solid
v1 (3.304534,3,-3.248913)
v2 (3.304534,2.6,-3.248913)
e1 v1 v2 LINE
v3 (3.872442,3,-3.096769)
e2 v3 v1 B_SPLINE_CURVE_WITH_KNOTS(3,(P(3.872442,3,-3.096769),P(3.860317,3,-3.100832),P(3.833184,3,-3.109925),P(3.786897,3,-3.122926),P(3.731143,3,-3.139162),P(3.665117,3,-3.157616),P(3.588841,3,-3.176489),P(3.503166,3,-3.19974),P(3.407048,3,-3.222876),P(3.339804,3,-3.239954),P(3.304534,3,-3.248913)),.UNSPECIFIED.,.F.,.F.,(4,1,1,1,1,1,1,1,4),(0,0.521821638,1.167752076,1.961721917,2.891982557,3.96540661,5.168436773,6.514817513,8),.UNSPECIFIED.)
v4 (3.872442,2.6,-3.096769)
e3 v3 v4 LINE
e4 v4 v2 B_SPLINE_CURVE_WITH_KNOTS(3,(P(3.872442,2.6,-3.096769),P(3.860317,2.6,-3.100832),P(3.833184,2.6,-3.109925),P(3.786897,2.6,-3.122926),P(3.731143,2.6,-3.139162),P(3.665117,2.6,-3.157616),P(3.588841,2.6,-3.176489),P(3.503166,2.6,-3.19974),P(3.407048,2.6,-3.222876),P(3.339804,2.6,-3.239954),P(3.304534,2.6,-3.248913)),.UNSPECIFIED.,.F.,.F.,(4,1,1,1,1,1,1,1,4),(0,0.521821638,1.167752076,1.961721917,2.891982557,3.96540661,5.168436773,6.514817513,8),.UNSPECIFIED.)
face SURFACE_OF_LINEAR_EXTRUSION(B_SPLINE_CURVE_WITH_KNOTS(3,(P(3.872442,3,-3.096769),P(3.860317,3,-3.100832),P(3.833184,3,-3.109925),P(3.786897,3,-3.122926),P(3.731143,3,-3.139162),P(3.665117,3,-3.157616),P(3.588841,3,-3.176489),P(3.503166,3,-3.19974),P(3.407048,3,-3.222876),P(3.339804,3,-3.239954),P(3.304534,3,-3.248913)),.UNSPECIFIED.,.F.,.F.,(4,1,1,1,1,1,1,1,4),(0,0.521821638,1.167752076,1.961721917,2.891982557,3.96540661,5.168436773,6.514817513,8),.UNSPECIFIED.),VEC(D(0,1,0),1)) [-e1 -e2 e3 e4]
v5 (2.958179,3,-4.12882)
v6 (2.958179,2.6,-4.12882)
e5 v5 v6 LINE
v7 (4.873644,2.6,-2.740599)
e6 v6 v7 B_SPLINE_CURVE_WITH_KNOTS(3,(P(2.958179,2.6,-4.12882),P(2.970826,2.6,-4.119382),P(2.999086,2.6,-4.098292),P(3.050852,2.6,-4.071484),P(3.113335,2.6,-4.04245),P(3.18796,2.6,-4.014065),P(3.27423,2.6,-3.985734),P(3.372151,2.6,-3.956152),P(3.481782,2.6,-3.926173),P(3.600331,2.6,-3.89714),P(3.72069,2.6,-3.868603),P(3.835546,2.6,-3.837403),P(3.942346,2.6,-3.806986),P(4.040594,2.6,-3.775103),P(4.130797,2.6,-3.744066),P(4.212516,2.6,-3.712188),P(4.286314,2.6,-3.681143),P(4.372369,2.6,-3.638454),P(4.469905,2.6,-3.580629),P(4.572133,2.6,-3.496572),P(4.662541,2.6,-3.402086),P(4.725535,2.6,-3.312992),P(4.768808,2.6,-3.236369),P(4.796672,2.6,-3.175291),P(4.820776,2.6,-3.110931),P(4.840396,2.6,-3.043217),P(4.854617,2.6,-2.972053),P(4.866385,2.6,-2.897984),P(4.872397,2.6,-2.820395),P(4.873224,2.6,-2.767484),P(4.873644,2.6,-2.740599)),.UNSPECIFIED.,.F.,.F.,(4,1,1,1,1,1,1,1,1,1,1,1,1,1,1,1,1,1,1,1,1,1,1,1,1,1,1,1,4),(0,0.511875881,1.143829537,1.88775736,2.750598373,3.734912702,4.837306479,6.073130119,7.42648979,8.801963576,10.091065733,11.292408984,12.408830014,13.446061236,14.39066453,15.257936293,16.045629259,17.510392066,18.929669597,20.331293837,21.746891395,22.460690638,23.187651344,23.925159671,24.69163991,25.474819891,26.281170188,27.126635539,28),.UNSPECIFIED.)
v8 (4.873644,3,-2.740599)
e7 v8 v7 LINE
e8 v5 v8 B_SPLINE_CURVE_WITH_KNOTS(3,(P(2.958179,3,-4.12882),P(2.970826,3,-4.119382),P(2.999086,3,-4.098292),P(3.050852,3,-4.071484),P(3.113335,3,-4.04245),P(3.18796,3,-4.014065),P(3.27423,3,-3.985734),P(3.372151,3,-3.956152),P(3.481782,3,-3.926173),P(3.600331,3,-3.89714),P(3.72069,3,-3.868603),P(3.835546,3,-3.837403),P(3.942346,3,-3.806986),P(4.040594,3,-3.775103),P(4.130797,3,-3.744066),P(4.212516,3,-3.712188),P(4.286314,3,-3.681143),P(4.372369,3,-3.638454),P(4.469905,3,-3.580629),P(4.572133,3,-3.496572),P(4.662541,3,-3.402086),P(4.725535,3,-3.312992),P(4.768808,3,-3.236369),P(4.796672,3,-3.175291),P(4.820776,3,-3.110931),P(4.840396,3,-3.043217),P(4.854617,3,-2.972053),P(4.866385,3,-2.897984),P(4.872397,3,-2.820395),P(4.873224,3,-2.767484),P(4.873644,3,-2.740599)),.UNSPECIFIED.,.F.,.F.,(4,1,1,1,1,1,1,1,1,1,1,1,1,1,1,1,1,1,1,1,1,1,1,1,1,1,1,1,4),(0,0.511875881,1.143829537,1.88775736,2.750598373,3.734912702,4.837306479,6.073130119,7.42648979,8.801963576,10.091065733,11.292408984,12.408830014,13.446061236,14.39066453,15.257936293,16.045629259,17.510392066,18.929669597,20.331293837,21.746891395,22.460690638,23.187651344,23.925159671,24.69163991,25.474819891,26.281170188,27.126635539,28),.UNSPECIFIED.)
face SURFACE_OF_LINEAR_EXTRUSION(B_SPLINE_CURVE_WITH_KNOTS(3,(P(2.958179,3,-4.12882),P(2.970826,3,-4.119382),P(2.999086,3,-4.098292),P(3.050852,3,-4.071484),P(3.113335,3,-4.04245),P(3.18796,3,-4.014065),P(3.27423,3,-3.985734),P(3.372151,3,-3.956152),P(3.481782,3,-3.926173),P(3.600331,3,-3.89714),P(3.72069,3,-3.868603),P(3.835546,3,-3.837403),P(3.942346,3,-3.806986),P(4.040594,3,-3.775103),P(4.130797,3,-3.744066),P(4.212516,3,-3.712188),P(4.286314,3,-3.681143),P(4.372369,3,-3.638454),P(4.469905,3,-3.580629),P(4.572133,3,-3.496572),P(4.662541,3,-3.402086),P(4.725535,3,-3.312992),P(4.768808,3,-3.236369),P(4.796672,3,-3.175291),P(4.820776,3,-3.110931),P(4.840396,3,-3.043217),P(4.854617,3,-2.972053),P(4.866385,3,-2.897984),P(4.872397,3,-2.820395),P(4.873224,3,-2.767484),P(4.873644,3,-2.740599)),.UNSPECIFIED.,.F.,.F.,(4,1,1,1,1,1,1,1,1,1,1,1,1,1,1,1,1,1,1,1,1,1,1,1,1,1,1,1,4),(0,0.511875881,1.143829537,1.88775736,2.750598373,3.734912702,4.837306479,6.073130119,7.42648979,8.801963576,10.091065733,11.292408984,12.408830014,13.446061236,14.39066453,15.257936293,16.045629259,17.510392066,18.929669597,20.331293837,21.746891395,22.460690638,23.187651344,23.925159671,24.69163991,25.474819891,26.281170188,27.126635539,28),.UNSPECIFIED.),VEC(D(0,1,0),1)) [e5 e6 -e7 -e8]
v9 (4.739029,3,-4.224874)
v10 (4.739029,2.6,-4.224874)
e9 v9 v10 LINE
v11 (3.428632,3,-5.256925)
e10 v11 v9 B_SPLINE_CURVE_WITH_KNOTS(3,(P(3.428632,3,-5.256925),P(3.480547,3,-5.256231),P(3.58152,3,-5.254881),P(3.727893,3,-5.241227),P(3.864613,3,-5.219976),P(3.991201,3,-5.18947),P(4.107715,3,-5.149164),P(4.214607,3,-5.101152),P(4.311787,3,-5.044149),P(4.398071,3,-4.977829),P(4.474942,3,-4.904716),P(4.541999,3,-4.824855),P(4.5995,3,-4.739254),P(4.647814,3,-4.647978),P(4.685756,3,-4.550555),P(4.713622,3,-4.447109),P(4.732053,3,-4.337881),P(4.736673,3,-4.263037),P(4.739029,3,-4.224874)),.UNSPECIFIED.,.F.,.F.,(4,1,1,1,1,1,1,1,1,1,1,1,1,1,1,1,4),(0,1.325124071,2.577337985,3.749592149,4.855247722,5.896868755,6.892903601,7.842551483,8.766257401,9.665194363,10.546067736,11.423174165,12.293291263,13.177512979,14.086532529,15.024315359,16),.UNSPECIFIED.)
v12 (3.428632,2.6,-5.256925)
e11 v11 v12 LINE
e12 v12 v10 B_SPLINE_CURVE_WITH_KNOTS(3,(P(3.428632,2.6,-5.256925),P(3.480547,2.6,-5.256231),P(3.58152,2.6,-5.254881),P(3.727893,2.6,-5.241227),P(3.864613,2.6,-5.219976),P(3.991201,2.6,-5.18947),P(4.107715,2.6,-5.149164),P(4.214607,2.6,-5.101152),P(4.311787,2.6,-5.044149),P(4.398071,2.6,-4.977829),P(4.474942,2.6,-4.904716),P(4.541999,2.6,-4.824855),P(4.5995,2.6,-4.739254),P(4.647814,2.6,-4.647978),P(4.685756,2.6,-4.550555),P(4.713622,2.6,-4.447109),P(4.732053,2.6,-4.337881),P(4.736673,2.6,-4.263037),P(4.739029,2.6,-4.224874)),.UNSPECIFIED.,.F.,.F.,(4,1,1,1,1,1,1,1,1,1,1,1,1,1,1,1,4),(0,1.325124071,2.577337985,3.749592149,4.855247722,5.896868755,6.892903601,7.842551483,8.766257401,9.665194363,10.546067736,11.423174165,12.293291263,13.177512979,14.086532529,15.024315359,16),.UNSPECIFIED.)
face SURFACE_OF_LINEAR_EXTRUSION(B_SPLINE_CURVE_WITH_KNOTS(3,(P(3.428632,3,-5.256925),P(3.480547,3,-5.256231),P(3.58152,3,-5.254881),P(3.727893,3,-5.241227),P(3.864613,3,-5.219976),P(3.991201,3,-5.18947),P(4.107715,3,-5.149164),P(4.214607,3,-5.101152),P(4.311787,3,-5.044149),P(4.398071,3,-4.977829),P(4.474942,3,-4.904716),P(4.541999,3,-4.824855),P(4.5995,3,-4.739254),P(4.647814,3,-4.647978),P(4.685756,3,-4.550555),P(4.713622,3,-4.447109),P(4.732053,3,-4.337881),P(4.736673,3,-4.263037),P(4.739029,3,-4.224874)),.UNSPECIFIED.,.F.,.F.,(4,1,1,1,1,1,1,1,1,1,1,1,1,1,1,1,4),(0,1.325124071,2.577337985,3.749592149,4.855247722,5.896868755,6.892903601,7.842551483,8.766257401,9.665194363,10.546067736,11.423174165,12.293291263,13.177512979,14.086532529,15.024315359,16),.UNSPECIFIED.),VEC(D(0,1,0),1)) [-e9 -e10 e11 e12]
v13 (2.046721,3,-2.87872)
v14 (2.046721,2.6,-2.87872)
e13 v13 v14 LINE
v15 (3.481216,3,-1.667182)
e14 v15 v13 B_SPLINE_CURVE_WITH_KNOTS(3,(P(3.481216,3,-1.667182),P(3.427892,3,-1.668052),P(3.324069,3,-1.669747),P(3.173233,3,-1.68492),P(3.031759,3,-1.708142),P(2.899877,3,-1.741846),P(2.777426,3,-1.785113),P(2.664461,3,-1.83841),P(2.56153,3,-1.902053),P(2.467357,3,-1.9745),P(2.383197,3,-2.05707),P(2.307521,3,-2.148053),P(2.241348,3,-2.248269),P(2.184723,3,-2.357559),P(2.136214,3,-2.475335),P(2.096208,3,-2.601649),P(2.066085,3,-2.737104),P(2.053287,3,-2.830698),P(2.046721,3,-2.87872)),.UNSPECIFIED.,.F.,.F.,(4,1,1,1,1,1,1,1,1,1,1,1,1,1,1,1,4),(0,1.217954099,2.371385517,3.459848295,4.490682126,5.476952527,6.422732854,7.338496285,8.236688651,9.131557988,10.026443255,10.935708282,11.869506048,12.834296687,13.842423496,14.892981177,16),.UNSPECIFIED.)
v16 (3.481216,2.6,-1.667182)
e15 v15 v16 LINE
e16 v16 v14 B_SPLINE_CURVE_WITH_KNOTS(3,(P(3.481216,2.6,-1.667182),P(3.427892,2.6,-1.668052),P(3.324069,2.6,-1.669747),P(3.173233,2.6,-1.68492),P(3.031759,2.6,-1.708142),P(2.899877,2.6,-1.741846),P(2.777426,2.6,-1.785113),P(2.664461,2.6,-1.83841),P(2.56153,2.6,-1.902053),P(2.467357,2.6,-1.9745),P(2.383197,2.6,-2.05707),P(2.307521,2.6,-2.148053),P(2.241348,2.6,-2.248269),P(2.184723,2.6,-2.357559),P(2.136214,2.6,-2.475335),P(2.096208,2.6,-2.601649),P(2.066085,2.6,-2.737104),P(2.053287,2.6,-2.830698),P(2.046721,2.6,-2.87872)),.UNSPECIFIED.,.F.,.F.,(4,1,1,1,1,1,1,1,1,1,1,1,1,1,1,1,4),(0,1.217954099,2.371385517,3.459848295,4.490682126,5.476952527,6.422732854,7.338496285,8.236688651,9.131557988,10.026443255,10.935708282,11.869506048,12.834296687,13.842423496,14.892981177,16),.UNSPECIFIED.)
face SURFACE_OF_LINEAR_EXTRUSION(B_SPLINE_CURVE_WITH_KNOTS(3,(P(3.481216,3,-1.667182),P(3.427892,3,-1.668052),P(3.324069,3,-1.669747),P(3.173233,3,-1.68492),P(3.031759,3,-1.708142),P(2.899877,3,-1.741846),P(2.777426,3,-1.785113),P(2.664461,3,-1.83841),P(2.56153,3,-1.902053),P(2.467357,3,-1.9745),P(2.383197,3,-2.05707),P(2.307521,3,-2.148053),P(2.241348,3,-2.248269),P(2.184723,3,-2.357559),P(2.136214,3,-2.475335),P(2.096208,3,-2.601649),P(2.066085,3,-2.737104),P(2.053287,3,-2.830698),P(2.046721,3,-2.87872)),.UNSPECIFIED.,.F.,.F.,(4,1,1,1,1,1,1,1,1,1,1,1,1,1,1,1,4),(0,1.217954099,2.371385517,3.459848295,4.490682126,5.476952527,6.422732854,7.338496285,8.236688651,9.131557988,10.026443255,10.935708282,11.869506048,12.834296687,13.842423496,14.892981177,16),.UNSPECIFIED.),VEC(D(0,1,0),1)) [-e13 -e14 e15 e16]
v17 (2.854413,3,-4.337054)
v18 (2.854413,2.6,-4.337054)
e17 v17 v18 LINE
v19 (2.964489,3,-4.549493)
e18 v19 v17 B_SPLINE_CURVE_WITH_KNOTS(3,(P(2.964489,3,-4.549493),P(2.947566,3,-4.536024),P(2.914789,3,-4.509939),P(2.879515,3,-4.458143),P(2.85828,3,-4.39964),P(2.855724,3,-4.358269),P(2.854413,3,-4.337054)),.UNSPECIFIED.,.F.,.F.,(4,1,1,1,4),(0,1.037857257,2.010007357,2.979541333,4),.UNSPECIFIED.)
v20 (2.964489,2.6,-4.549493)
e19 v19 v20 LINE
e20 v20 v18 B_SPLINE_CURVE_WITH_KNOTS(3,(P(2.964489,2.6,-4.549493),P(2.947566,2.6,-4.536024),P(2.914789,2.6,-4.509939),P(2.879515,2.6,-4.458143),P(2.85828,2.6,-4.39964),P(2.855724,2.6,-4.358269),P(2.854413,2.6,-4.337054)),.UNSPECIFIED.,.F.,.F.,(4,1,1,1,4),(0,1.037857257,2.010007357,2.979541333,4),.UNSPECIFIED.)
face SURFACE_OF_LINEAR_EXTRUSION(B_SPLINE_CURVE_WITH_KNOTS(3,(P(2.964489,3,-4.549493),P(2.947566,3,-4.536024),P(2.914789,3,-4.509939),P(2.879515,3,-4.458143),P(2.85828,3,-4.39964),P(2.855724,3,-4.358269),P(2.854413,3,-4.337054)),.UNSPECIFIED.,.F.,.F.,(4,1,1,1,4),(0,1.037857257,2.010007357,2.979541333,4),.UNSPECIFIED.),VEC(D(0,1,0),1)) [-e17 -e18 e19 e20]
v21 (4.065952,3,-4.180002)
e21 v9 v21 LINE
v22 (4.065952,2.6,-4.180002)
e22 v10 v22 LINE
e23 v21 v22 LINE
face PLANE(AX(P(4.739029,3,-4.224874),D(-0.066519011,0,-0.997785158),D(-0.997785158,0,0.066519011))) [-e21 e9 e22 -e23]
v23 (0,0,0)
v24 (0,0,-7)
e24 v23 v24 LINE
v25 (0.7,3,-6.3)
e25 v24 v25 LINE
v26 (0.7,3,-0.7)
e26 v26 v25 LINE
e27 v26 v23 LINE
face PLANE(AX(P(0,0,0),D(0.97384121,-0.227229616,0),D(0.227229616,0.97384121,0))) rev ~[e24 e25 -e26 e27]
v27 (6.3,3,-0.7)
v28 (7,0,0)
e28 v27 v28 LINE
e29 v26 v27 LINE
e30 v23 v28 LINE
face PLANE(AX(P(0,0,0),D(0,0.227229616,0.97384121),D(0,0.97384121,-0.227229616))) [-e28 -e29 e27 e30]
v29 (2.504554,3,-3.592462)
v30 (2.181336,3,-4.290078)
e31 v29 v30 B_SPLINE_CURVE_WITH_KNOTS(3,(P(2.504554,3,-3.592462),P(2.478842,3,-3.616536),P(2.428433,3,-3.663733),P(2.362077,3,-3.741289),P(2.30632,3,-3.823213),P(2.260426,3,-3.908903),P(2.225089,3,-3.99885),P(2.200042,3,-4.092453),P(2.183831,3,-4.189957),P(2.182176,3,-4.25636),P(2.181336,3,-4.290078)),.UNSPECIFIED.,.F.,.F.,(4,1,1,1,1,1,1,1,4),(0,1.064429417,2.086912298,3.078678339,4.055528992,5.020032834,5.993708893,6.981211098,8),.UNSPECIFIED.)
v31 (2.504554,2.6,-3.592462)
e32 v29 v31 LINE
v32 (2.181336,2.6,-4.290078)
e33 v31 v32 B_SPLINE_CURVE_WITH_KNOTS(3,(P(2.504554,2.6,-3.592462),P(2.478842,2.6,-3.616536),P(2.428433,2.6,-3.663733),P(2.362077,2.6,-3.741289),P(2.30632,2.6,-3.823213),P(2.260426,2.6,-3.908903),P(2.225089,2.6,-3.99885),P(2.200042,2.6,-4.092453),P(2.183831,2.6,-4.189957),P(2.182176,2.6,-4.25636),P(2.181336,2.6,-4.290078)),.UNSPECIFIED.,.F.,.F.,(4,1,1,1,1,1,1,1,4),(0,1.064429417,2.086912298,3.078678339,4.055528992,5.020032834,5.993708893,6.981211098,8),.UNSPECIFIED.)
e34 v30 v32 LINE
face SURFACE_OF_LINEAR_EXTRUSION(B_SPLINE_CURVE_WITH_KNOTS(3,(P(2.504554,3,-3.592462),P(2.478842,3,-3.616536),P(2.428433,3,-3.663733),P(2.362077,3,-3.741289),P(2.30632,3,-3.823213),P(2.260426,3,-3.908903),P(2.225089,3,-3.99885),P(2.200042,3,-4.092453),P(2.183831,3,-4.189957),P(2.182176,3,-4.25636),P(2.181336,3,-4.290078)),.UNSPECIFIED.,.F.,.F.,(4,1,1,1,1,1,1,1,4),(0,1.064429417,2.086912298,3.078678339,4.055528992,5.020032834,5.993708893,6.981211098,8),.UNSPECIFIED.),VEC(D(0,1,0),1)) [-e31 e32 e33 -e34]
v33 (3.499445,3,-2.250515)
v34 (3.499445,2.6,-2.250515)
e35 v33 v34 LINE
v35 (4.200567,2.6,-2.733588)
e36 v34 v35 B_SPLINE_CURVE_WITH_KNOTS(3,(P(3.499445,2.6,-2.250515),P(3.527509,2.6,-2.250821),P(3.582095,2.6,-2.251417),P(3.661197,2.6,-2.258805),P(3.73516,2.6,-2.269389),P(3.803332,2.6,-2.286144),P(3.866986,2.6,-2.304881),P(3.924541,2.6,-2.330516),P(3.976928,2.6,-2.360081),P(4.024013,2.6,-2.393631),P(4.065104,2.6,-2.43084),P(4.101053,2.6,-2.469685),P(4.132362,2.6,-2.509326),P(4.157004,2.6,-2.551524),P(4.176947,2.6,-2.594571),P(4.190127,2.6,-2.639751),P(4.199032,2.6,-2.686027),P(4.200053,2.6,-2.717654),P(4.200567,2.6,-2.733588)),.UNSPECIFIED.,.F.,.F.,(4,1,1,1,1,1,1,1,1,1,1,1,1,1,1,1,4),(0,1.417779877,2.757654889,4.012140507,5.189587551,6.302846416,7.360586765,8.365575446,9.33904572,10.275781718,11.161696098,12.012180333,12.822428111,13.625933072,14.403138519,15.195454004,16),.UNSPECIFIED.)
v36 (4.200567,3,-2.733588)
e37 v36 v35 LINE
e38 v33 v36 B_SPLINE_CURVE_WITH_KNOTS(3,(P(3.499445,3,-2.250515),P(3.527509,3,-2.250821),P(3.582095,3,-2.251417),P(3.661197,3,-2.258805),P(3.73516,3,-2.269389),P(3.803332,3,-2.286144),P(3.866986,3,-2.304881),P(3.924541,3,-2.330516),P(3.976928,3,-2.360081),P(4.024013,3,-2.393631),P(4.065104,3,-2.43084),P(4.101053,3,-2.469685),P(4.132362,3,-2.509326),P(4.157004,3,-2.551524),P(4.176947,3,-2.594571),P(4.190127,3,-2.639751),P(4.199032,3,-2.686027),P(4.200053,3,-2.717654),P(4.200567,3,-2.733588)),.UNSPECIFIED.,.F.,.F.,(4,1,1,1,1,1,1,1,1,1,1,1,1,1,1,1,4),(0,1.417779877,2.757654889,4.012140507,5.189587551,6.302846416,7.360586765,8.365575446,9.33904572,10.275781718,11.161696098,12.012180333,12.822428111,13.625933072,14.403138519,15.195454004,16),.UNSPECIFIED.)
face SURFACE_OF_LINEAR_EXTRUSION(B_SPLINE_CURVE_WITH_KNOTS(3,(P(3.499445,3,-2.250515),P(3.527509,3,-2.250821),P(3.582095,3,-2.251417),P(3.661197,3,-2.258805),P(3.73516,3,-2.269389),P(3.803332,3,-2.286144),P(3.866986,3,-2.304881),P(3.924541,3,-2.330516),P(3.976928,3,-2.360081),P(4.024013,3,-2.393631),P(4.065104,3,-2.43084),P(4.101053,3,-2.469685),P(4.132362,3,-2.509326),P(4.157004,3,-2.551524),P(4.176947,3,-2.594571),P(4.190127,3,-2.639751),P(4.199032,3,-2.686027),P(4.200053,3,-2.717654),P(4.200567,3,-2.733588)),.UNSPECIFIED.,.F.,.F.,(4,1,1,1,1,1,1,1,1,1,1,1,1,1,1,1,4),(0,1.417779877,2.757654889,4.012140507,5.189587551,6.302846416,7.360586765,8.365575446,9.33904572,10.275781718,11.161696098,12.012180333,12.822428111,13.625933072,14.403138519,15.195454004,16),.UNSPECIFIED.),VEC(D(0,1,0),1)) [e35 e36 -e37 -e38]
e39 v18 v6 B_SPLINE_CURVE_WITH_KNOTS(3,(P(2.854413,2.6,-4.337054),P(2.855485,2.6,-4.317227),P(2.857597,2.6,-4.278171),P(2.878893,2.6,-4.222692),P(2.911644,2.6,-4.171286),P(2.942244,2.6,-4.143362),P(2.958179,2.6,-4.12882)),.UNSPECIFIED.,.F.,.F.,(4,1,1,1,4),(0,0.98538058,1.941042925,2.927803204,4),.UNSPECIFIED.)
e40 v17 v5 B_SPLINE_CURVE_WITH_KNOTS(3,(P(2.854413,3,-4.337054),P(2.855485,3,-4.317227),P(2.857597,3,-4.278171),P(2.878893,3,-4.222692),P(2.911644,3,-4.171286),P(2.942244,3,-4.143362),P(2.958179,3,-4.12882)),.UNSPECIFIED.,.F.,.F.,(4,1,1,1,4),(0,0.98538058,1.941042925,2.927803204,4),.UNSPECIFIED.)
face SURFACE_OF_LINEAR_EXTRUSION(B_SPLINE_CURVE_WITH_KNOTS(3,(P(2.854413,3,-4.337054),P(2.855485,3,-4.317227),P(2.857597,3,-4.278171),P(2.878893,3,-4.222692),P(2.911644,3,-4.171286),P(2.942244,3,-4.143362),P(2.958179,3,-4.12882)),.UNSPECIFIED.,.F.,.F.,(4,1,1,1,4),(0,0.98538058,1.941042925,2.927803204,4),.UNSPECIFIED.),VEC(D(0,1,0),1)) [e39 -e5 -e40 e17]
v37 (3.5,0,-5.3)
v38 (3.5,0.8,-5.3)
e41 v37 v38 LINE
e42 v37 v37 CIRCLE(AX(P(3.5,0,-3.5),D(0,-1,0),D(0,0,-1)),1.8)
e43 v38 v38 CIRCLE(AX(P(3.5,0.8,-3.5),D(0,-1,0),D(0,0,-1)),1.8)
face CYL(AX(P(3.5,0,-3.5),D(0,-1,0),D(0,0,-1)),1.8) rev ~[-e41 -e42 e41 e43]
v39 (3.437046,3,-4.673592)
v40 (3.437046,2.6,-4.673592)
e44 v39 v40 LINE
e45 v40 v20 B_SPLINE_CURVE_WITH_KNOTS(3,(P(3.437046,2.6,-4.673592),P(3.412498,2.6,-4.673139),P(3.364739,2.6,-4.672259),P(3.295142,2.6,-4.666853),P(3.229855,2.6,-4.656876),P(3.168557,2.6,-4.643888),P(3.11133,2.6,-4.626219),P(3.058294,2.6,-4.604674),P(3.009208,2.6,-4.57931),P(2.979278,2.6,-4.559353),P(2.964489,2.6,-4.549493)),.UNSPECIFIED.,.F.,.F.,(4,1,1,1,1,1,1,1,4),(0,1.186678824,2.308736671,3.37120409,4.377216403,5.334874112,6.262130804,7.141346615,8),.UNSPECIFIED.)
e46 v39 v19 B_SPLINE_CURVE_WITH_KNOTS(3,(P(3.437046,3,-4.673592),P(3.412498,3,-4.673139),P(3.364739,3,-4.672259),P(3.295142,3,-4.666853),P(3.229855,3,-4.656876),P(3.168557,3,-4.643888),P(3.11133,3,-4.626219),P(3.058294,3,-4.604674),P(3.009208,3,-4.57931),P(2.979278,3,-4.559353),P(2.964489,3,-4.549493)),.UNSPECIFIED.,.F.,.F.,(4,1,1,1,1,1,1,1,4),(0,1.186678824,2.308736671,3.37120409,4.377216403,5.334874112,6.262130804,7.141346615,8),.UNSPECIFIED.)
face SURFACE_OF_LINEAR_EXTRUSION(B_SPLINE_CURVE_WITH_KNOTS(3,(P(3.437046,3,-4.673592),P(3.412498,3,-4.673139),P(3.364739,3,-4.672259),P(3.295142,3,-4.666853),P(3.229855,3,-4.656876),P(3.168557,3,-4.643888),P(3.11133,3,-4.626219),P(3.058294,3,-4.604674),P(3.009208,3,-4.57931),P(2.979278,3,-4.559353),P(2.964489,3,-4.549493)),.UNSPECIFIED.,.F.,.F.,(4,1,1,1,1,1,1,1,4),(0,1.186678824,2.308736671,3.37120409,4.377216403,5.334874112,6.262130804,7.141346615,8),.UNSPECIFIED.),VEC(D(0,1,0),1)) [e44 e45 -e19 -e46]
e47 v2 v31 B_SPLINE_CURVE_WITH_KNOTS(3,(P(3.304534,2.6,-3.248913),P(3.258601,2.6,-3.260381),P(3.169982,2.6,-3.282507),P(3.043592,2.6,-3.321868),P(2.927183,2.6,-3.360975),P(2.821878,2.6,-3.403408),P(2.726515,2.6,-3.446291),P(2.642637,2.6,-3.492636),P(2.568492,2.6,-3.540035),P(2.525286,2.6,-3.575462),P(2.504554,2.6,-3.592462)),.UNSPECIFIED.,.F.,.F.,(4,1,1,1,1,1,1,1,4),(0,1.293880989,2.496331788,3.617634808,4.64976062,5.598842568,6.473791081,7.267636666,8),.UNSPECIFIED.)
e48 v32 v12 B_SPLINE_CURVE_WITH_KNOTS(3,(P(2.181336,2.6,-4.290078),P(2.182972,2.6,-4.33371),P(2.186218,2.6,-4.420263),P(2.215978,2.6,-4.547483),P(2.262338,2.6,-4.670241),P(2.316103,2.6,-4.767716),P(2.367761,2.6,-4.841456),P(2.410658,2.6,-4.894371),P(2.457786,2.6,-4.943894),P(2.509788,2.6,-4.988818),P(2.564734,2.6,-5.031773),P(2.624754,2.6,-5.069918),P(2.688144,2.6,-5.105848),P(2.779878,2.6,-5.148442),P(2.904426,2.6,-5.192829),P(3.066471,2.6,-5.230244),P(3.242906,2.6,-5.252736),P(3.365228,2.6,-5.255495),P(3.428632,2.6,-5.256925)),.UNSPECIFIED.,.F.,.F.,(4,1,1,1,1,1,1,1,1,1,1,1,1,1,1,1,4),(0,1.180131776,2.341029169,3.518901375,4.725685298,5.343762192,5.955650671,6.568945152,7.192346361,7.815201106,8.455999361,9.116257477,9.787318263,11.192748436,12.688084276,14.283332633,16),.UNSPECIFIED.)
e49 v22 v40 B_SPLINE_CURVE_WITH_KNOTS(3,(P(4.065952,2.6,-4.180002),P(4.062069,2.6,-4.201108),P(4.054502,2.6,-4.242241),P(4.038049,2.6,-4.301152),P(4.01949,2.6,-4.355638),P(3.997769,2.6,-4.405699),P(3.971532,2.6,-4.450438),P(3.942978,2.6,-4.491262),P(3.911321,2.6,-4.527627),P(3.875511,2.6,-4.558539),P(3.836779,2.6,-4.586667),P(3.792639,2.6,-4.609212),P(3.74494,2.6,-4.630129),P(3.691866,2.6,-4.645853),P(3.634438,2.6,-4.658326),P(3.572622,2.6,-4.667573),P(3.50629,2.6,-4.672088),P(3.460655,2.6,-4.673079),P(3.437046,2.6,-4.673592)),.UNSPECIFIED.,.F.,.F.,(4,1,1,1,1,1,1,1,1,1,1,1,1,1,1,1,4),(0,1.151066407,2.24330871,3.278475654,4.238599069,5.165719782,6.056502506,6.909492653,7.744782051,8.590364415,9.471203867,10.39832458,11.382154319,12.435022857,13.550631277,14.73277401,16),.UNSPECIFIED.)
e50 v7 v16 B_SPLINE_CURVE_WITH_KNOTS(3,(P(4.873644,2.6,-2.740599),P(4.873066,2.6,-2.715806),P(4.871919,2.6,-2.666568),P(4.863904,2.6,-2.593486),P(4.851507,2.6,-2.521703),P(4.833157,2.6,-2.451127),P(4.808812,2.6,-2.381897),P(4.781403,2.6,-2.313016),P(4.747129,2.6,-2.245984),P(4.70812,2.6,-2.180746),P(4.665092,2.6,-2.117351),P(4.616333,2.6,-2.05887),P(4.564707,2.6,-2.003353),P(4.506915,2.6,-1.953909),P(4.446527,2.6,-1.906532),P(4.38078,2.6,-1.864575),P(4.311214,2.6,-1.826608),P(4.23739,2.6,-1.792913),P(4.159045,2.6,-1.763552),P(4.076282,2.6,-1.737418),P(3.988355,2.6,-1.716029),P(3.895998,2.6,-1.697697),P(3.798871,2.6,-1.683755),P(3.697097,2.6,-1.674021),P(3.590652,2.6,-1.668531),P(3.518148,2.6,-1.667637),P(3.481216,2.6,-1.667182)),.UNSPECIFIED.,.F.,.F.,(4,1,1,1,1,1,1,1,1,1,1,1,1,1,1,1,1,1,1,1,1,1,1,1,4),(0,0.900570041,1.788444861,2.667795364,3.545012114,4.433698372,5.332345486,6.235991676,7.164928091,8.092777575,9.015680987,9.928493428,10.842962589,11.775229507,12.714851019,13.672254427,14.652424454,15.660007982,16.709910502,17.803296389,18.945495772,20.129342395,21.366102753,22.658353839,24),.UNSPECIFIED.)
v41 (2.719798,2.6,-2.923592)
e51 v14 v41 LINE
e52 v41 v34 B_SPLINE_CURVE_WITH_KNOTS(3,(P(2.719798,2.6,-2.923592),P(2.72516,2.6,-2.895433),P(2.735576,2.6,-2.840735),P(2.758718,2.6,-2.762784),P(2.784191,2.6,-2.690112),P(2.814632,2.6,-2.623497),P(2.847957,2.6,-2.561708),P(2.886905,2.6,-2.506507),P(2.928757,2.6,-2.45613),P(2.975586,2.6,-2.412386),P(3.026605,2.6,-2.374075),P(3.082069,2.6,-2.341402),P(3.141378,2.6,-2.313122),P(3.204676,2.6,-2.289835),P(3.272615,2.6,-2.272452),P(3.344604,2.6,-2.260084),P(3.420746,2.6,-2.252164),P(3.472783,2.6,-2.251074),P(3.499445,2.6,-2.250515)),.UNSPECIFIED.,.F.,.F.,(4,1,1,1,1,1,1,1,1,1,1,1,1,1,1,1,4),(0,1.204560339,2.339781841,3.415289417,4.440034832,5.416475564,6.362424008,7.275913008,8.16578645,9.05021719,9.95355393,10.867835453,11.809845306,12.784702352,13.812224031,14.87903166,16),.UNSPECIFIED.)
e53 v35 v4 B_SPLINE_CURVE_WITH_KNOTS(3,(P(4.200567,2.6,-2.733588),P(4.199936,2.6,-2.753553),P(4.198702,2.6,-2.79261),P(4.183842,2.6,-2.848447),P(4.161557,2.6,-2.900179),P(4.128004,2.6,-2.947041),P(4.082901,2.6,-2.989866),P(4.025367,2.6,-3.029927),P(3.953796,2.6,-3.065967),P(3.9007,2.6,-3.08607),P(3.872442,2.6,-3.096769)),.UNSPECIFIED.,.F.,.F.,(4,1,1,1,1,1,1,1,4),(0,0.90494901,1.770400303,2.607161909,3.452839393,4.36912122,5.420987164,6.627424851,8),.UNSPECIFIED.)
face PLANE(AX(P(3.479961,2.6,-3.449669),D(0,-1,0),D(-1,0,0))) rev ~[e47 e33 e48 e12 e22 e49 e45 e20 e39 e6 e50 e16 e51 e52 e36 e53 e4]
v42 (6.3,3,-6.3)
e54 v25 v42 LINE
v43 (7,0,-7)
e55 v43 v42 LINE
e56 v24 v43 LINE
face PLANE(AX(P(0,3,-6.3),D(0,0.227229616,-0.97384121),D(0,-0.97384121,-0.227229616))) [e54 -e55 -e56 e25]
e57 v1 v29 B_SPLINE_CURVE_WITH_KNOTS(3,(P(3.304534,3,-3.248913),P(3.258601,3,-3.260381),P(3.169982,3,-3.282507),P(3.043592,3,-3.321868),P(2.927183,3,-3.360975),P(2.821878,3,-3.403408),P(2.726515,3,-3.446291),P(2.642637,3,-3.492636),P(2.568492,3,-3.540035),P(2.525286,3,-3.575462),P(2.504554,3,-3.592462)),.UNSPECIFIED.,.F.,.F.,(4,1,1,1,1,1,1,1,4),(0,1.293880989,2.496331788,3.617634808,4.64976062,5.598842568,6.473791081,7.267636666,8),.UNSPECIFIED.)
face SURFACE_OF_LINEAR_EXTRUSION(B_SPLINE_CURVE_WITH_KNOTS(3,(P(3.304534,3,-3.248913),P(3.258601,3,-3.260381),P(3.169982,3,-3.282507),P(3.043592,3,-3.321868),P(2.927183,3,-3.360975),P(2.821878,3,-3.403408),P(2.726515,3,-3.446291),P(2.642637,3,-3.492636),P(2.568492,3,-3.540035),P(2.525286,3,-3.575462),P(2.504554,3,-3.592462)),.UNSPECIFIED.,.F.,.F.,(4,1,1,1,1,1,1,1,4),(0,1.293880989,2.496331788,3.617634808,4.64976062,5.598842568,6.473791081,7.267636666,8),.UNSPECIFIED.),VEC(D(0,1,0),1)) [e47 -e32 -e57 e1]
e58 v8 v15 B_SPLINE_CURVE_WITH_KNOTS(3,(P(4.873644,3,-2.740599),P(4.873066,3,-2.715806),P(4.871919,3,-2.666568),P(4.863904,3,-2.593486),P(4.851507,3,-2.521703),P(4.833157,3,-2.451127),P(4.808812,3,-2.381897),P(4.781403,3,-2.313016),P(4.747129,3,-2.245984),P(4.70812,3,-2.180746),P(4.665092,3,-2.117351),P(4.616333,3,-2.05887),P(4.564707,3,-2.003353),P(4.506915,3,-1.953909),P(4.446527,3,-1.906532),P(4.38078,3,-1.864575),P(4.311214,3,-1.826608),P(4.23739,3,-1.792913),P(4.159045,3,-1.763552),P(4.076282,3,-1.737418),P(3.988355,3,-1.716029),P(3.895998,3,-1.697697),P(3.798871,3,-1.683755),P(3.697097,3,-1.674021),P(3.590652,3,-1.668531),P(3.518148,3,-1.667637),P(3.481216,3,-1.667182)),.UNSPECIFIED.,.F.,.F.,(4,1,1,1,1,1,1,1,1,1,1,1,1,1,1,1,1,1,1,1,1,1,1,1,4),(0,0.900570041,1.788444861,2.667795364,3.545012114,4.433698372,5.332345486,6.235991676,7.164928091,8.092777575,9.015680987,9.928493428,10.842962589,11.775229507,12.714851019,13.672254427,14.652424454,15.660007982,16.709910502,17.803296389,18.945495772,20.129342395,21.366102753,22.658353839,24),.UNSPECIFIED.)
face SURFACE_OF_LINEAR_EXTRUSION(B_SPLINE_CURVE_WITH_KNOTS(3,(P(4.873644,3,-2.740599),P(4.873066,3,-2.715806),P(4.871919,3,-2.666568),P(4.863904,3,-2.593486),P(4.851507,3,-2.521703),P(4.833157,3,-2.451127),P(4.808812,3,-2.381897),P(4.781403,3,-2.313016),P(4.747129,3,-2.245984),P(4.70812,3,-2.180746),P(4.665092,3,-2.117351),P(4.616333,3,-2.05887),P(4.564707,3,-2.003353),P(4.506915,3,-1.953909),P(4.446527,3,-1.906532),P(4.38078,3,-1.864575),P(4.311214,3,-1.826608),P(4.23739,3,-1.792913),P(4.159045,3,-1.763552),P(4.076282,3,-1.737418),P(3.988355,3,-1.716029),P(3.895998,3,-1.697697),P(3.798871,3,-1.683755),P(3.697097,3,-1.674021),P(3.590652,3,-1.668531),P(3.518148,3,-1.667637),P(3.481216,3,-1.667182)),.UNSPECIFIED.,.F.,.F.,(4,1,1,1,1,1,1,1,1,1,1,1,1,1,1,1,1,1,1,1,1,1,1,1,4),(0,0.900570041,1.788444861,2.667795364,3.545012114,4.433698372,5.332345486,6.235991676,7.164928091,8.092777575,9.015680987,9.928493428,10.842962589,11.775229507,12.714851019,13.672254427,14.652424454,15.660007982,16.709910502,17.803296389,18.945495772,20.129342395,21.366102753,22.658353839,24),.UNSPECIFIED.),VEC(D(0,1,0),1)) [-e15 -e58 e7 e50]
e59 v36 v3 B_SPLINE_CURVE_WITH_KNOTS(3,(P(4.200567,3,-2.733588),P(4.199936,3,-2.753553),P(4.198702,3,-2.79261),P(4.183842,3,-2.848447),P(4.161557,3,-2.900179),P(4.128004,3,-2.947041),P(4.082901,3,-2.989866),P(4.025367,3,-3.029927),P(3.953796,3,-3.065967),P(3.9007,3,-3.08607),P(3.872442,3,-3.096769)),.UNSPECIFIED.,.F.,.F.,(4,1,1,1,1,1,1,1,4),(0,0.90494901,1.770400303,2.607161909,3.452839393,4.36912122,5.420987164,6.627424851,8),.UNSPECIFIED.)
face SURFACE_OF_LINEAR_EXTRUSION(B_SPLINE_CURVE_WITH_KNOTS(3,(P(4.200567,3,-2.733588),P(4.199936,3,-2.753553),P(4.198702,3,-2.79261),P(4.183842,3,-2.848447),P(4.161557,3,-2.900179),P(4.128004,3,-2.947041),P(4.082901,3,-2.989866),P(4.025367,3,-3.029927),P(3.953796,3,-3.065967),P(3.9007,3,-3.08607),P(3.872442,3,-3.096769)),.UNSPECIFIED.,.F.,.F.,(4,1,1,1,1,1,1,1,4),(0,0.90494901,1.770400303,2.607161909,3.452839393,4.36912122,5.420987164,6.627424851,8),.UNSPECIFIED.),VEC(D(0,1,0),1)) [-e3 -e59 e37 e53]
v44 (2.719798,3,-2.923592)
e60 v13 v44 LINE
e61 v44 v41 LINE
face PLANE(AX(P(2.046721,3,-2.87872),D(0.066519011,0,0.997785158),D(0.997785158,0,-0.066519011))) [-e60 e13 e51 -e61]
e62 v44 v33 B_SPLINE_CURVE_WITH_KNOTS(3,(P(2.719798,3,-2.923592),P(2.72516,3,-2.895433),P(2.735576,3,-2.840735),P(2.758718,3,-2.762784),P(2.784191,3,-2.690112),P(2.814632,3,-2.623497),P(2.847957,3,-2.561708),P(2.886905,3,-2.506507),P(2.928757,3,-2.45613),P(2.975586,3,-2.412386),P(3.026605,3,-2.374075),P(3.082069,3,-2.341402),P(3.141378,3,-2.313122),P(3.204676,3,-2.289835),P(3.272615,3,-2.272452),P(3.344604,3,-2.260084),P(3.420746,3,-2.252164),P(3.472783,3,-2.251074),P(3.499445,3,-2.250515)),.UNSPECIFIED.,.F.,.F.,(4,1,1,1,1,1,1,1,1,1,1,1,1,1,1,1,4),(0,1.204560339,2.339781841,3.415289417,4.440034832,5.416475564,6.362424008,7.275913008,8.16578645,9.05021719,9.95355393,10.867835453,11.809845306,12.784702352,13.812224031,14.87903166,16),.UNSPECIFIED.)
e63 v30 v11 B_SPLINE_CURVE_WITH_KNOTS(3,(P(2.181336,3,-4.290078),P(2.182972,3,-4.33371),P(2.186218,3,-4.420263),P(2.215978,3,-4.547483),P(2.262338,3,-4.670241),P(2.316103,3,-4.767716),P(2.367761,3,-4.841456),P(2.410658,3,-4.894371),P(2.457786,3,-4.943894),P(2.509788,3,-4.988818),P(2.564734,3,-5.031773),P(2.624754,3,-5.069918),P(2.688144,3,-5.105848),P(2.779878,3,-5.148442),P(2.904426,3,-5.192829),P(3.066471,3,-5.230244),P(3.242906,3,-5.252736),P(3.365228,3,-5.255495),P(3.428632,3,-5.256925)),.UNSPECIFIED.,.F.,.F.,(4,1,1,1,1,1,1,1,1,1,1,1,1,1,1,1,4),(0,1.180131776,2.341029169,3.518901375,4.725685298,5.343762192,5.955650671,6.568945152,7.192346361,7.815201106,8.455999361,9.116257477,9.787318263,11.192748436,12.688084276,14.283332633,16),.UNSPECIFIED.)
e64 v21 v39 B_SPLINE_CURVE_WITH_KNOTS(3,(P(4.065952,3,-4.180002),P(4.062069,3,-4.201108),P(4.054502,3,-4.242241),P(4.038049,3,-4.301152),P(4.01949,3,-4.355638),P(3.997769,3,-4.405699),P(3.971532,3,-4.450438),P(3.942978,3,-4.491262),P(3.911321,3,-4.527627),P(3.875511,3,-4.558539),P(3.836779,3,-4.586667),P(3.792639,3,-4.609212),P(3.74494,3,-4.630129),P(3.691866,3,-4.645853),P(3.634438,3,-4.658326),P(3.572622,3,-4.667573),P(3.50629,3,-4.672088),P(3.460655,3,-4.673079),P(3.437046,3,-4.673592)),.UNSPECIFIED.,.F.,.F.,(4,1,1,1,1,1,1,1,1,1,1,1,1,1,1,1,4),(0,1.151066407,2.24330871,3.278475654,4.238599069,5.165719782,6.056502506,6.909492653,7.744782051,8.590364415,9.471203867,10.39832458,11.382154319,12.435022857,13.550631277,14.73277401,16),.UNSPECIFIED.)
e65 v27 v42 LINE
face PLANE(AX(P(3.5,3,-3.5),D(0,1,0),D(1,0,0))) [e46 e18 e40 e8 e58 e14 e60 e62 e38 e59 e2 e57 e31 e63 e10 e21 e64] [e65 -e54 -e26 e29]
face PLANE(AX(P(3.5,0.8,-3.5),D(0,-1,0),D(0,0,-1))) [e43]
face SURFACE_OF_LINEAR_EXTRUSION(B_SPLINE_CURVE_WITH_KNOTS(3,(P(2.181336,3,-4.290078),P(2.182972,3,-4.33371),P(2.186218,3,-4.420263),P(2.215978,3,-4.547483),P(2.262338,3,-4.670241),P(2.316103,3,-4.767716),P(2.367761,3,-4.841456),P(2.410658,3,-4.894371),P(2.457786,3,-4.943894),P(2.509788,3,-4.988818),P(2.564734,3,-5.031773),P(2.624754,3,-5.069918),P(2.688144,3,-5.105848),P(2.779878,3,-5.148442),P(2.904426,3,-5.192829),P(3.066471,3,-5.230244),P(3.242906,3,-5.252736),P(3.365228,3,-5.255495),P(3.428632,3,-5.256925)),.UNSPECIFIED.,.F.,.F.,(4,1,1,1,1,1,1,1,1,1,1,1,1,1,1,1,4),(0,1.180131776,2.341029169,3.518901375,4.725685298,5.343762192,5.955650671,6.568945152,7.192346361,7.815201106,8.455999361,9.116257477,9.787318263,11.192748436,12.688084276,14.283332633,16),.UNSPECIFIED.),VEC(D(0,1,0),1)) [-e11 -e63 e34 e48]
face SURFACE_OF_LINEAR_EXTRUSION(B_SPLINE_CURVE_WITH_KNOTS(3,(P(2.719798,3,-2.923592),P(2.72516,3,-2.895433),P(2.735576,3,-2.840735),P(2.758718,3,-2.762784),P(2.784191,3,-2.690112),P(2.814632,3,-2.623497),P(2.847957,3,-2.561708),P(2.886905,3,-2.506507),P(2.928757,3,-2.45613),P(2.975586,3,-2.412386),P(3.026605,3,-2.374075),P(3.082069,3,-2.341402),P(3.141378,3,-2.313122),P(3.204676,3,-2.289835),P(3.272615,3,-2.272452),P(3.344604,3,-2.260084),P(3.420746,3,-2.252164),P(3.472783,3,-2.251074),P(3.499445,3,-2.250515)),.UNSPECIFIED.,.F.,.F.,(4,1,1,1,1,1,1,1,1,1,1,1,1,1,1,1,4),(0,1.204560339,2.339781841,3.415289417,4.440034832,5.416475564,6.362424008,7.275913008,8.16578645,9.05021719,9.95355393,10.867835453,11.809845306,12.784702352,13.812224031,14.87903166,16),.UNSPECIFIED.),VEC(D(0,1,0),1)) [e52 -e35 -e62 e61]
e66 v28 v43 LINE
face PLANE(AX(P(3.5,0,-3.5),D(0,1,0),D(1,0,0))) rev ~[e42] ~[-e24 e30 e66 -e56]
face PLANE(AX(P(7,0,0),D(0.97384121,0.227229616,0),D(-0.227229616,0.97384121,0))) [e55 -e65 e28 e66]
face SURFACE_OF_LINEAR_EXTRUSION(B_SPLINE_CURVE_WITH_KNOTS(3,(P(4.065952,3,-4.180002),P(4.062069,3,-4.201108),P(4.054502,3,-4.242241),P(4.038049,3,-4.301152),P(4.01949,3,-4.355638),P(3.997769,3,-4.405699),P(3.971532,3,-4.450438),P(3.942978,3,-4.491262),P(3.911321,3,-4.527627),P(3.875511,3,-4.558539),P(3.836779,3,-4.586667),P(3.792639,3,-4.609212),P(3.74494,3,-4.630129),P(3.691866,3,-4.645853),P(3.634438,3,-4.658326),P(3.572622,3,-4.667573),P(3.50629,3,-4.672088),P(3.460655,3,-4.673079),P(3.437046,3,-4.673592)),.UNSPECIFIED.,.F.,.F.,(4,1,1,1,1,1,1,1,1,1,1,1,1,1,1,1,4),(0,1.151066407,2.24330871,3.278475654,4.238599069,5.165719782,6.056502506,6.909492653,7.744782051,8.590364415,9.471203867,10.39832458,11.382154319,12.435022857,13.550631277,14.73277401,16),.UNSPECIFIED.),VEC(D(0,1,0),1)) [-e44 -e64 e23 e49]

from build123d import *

# Parameters (mm, degrees)
SKETCH1_W           = 7
SKETCH1_H           = 7
BOSS_EXTRUDE1_DEPTH = 3
CUT_EXTRUDE1_DEPTH  = 7
CUT_EXTRUDE2_DEPTH  = 11
SKETCH4_R           = 1.8
CUT_EXTRUDE3_DEPTH  = 0.8
CUT_EXTRUDE4_DEPTH  = 0.4


with BuildPart() as part:
    # Sketch1 → Boss-Extrude1 (new body)
    with BuildSketch(Plane(origin=(0, 0, 0), x_dir=(1, 0, 0), z_dir=(0, 1, 0))):
        with Locations((3.5, 3.5)):
            Rectangle(SKETCH1_W, SKETCH1_H)
    extrude(amount=BOSS_EXTRUDE1_DEPTH)

    # Sketch2 → Cut-Extrude1 (cut)
    with BuildSketch(Plane.XY):
        Polygon((0, 0), (0.7, 3), (0, 3), align=None)
        Polygon((7, 0), (6.3, 3), (7, 3), align=None)
    extrude(amount=-CUT_EXTRUDE1_DEPTH, mode=Mode.SUBTRACT)

    # Sketch3 → Cut-Extrude2 (cut)
    with BuildSketch(Plane(origin=(0, 0, 0), x_dir=(0, 0, -1), z_dir=(1, 0, 0))):
        Polygon((0, 0), (0.7, 3), (0, 3), align=None)
        Polygon((7, 3), (6.3, 3), (7, 0), align=None)
    extrude(amount=CUT_EXTRUDE2_DEPTH, mode=Mode.SUBTRACT)

    # Sketch4 → Cut-Extrude3 (cut)
    with BuildSketch(Plane.XZ):
        with Locations(Location((3.5, -3.5, 0), (0, 0, 270))):
            Circle(SKETCH4_R)
    extrude(amount=-CUT_EXTRUDE3_DEPTH, mode=Mode.SUBTRACT)

    # Sketch5 → Cut-Extrude4 (cut)
    with BuildSketch(Plane(origin=(0, 3, 0), x_dir=(1, 0, 0), z_dir=(0, 1, 0))):
        with BuildLine():
            Line((2.046721013, 2.878720245), (2.719797936, 2.92359204))
            add(Edge.make_bspline(
                [(2.719797936, 2.92359204), (2.725160149, 2.895432871), (2.735575908, 2.840735478), (2.758717767, 2.762784225), (2.784190549, 2.69011155), (2.81463192, 2.623496744), (2.847957445, 2.561708471), (2.886904829, 2.506506929), (2.928757004, 2.456129675), (2.975585733, 2.412386043), (3.026605026, 2.374074766), (3.082069463, 2.341401632), (3.14137804, 2.313122445), (3.204675773, 2.289835431), (3.272615043, 2.272451562), (3.344603998, 2.260083969), (3.420745884, 2.252164104), (3.4727828, 2.251073777), (3.499445372, 2.250515117)],
                knots=[0, 0, 0, 0, 1.204560339, 2.339781841, 3.415289417, 4.440034832, 5.416475564, 6.362424008, 7.275913008, 8.16578645, 9.05021719, 9.95355393, 10.867835453, 11.809845306, 12.784702352, 13.812224031, 14.87903166, 16, 16, 16, 16], degree=3))
            add(Edge.make_bspline(
                [(3.499445372, 2.250515117), (3.527509416, 2.250821294), (3.582095427, 2.251416824), (3.661196592, 2.258804896), (3.735159775, 2.269389104), (3.803331854, 2.286143658), (3.866985877, 2.304880975), (3.924540945, 2.330515622), (3.976928433, 2.36008148), (4.024013382, 2.393631069), (4.06510446, 2.430839971), (4.101052986, 2.469684857), (4.132361778, 2.5093265), (4.157004013, 2.551524023), (4.176946643, 2.594570783), (4.190127325, 2.639750939), (4.199031656, 2.686027058), (4.200052723, 2.717653631), (4.200567167, 2.733588033)],
                knots=[0, 0, 0, 0, 1.417779877, 2.757654889, 4.012140507, 5.189587551, 6.302846416, 7.360586765, 8.365575446, 9.33904572, 10.275781718, 11.161696098, 12.012180333, 12.822428111, 13.625933072, 14.403138519, 15.195454004, 16, 16, 16, 16], degree=3))
            add(Edge.make_bspline(
                [(4.200567167, 2.733588033), (4.199936245, 2.753552546), (4.198701939, 2.792610195), (4.183842132, 2.848447381), (4.161557458, 2.900178921), (4.12800444, 2.94704074), (4.082900924, 2.989865612), (4.025366896, 3.029927231), (3.953796381, 3.065967021), (3.900700369, 3.086070082), (3.872442167, 3.096769123)],
                knots=[0, 0, 0, 0, 0.90494901, 1.770400303, 2.607161909, 3.452839393, 4.36912122, 5.420987164, 6.627424851, 8, 8, 8, 8], degree=3))
            add(Edge.make_bspline(
                [(3.872442167, 3.096769123), (3.860317321, 3.100832215), (3.833183883, 3.109924755), (3.786897121, 3.12292623), (3.731143485, 3.139161617), (3.665117302, 3.157615727), (3.588840772, 3.176489423), (3.503165804, 3.199739676), (3.407047926, 3.222875577), (3.339803742, 3.239954494), (3.304533513, 3.248912553)],
                knots=[0, 0, 0, 0, 0.521821638, 1.167752076, 1.961721917, 2.891982557, 3.96540661, 5.168436773, 6.514817513, 8, 8, 8, 8], degree=3))
            add(Edge.make_bspline(
                [(3.304533513, 3.248912553), (3.258601207, 3.260380777), (3.169982333, 3.282506842), (3.043591527, 3.321867543), (2.927183282, 3.360974579), (2.821878423, 3.403407811), (2.726515392, 3.446291426), (2.642636716, 3.492636137), (2.568492031, 3.540035098), (2.525286202, 3.57546224), (2.504553545, 3.592462232)],
                knots=[0, 0, 0, 0, 1.293880989, 2.496331788, 3.617634808, 4.64976062, 5.598842568, 6.473791081, 7.267636666, 8, 8, 8, 8], degree=3))
            add(Edge.make_bspline(
                [(2.504553545, 3.592462232), (2.478842356, 3.616535508), (2.428433193, 3.663733391), (2.362077353, 3.741288571), (2.306320379, 3.82321321), (2.260426285, 3.908902595), (2.225088701, 3.998850035), (2.200041876, 4.092453462), (2.18383066, 4.189957168), (2.182176417, 4.256359502), (2.181336398, 4.290078418)],
                knots=[0, 0, 0, 0, 1.064429417, 2.086912298, 3.078678339, 4.055528992, 5.020032834, 5.993708893, 6.981211098, 8, 8, 8, 8], degree=3))
            add(Edge.make_bspline(
                [(2.181336398, 4.290078418), (2.182972343, 4.333710293), (2.18621757, 4.420262908), (2.215978417, 4.547483438), (2.262337684, 4.670241451), (2.316103441, 4.767715859), (2.367760734, 4.841455617), (2.410658355, 4.894370593), (2.457785536, 4.943893923), (2.509787819, 4.988817578), (2.564734232, 5.031772991), (2.624753609, 5.069917913), (2.688144219, 5.105848319), (2.779877653, 5.148442144), (2.904426487, 5.192829094), (3.06647121, 5.230244475), (3.242905826, 5.252735952), (3.365228488, 5.25549518), (3.428632071, 5.256925373)],
                knots=[0, 0, 0, 0, 1.180131776, 2.341029169, 3.518901375, 4.725685298, 5.343762192, 5.955650671, 6.568945152, 7.192346361, 7.815201106, 8.455999361, 9.116257477, 9.787318263, 11.192748436, 12.688084276, 14.283332633, 16, 16, 16, 16], degree=3))
            add(Edge.make_bspline(
                [(3.428632071, 5.256925373), (3.480546978, 5.25623114), (3.581520363, 5.254880873), (3.727893013, 5.241226755), (3.86461301, 5.219975735), (3.991200587, 5.189469994), (4.107714725, 5.149163904), (4.214607068, 5.10115173), (4.311786782, 5.044149232), (4.3980708, 4.977829293), (4.474941591, 4.904715813), (4.541999061, 4.824854673), (4.599499587, 4.739254471), (4.647814268, 4.647977762), (4.68575566, 4.550555251), (4.713622114, 4.447108501), (4.732053229, 4.337881002), (4.736673044, 4.263037228), (4.739028705, 4.224874091)],
                knots=[0, 0, 0, 0, 1.325124071, 2.577337985, 3.749592149, 4.855247722, 5.896868755, 6.892903601, 7.842551483, 8.766257401, 9.665194363, 10.546067736, 11.423174165, 12.293291263, 13.177512979, 14.086532529, 15.024315359, 16, 16, 16, 16], degree=3))
            Line((4.739028705, 4.224874091), (4.065951782, 4.180002296))
            add(Edge.make_bspline(
                [(4.065951782, 4.180002296), (4.062068972, 4.201108183), (4.054501777, 4.242241362), (4.038048624, 4.301152432), (4.019490266, 4.355638451), (3.997768669, 4.405699072), (3.971531605, 4.45043766), (3.942978139, 4.491261716), (3.911320612, 4.527627281), (3.875510829, 4.55853855), (3.83677937, 4.586666537), (3.792639157, 4.60921177), (3.744939713, 4.630128784), (3.691866364, 4.645853249), (3.634438311, 4.65832646), (3.572622102, 4.667573288), (3.506289601, 4.672088109), (3.460655286, 4.673079253), (3.437045532, 4.67359204)],
                knots=[0, 0, 0, 0, 1.151066407, 2.24330871, 3.278475654, 4.238599069, 5.165719782, 6.056502506, 6.909492653, 7.744782051, 8.590364415, 9.471203867, 10.39832458, 11.382154319, 12.435022857, 13.550631277, 14.73277401, 16, 16, 16, 16], degree=3))
            add(Edge.make_bspline(
                [(3.437045532, 4.67359204), (3.412497837, 4.673139334), (3.364739198, 4.672258574), (3.295142133, 4.666853479), (3.229854863, 4.656876194), (3.168556746, 4.643888244), (3.11132966, 4.626219037), (3.058294374, 4.604674333), (3.009208245, 4.579309585), (2.979277664, 4.559353476), (2.964489443, 4.549493482)],
                knots=[0, 0, 0, 0, 1.186678824, 2.308736671, 3.37120409, 4.377216403, 5.334874112, 6.262130804, 7.141346615, 8, 8, 8, 8], degree=3))
            add(Edge.make_bspline(
                [(2.964489443, 4.549493482), (2.947565565, 4.53602445), (2.914789266, 4.509939115), (2.879515034, 4.458142509), (2.858279864, 4.399639797), (2.855723971, 4.358268553), (2.854413321, 4.337053578)],
                knots=[0, 0, 0, 0, 1.037857257, 2.010007357, 2.979541333, 4, 4, 4, 4], degree=3))
            add(Edge.make_bspline(
                [(2.854413321, 4.337053578), (2.855485194, 4.317226776), (2.857596612, 4.27817113), (2.878892988, 4.22269174), (2.911643913, 4.171286094), (2.942244281, 4.143361874), (2.958179346, 4.128820405)],
                knots=[0, 0, 0, 0, 0.98538058, 1.941042925, 2.927803204, 4, 4, 4, 4], degree=3))
            add(Edge.make_bspline(
                [(2.958179346, 4.128820405), (2.970825874, 4.119382262), (2.9990856, 4.098291942), (3.050851816, 4.07148415), (3.113334997, 4.042449691), (3.187959609, 4.014065302), (3.274229699, 3.985733602), (3.372150512, 3.956152032), (3.481782274, 3.926173301), (3.600330525, 3.897140369), (3.720690389, 3.868602665), (3.835546491, 3.837402899), (3.942346149, 3.806985541), (4.040594163, 3.775103213), (4.130796984, 3.744065866), (4.212516439, 3.712188275), (4.286313644, 3.681143069), (4.372369366, 3.63845371), (4.469904872, 3.580629249), (4.572133086, 3.496571752), (4.662540895, 3.402085635), (4.725534654, 3.312991744), (4.76880807, 3.236368627), (4.796671585, 3.175291081), (4.82077571, 3.110930748), (4.840396402, 3.043216506), (4.854616683, 2.972053072), (4.866384793, 2.897984135), (4.872397339, 2.820394537), (4.873224033, 2.767483952), (4.87364409, 2.740599251)],
                knots=[0, 0, 0, 0, 0.511875881, 1.143829537, 1.88775736, 2.750598373, 3.734912702, 4.837306479, 6.073130119, 7.42648979, 8.801963576, 10.091065733, 11.292408984, 12.408830014, 13.446061236, 14.39066453, 15.257936293, 16.045629259, 17.510392066, 18.929669597, 20.331293837, 21.746891395, 22.460690638, 23.187651344, 23.925159671, 24.69163991, 25.474819891, 26.281170188, 27.126635539, 28, 28, 28, 28], degree=3))
            add(Edge.make_bspline(
                [(4.87364409, 2.740599251), (4.873066499, 2.715805547), (4.871919459, 2.666567652), (4.86390363, 2.593486185), (4.851507352, 2.52170251), (4.833156603, 2.451126638), (4.80881246, 2.381897405), (4.78140289, 2.313015643), (4.747128767, 2.245983517), (4.708120139, 2.18074551), (4.665091851, 2.117350577), (4.616332808, 2.058870196), (4.564706926, 2.003353319), (4.506915449, 1.953908582), (4.44652713, 1.906532418), (4.38077987, 1.864575291), (4.311214031, 1.826607806), (4.237389761, 1.792913428), (4.159045311, 1.763551823), (4.076282436, 1.737417953), (3.988355491, 1.716029388), (3.895997661, 1.697696694), (3.798870959, 1.683755153), (3.697096814, 1.674020716), (3.590652088, 1.66853108), (3.51814807, 1.667637137), (3.481216205, 1.667181783)],
                knots=[0, 0, 0, 0, 0.900570041, 1.788444861, 2.667795364, 3.545012114, 4.433698372, 5.332345486, 6.235991676, 7.164928091, 8.092777575, 9.015680987, 9.928493428, 10.842962589, 11.775229507, 12.714851019, 13.672254427, 14.652424454, 15.660007982, 16.709910502, 17.803296389, 18.945495772, 20.129342395, 21.366102753, 22.658353839, 24, 24, 24, 24], degree=3))
            add(Edge.make_bspline(
                [(3.481216205, 1.667181783), (3.427892291, 1.668052387), (3.324069365, 1.669747473), (3.173233299, 1.684919824), (3.031759055, 1.708142203), (2.899876942, 1.741845708), (2.777425768, 1.785113401), (2.664461381, 1.838409645), (2.561530178, 1.902052856), (2.4673573, 1.97449958), (2.383197452, 2.057069979), (2.307520748, 2.148053225), (2.241348087, 2.248268606), (2.184722964, 2.357559374), (2.136213798, 2.475334702), (2.096207822, 2.601648673), (2.066085424, 2.737103735), (2.053287453, 2.830698323), (2.046721013, 2.878720245)],
                knots=[0, 0, 0, 0, 1.217954099, 2.371385517, 3.459848295, 4.490682126, 5.476952527, 6.422732854, 7.338496285, 8.236688651, 9.131557988, 10.026443255, 10.935708282, 11.869506048, 12.834296687, 13.842423496, 14.892981177, 16, 16, 16, 16], degree=3))
        make_face()
    extrude(amount=-CUT_EXTRUDE4_DEPTH, mode=Mode.SUBTRACT)


solid = part.part
